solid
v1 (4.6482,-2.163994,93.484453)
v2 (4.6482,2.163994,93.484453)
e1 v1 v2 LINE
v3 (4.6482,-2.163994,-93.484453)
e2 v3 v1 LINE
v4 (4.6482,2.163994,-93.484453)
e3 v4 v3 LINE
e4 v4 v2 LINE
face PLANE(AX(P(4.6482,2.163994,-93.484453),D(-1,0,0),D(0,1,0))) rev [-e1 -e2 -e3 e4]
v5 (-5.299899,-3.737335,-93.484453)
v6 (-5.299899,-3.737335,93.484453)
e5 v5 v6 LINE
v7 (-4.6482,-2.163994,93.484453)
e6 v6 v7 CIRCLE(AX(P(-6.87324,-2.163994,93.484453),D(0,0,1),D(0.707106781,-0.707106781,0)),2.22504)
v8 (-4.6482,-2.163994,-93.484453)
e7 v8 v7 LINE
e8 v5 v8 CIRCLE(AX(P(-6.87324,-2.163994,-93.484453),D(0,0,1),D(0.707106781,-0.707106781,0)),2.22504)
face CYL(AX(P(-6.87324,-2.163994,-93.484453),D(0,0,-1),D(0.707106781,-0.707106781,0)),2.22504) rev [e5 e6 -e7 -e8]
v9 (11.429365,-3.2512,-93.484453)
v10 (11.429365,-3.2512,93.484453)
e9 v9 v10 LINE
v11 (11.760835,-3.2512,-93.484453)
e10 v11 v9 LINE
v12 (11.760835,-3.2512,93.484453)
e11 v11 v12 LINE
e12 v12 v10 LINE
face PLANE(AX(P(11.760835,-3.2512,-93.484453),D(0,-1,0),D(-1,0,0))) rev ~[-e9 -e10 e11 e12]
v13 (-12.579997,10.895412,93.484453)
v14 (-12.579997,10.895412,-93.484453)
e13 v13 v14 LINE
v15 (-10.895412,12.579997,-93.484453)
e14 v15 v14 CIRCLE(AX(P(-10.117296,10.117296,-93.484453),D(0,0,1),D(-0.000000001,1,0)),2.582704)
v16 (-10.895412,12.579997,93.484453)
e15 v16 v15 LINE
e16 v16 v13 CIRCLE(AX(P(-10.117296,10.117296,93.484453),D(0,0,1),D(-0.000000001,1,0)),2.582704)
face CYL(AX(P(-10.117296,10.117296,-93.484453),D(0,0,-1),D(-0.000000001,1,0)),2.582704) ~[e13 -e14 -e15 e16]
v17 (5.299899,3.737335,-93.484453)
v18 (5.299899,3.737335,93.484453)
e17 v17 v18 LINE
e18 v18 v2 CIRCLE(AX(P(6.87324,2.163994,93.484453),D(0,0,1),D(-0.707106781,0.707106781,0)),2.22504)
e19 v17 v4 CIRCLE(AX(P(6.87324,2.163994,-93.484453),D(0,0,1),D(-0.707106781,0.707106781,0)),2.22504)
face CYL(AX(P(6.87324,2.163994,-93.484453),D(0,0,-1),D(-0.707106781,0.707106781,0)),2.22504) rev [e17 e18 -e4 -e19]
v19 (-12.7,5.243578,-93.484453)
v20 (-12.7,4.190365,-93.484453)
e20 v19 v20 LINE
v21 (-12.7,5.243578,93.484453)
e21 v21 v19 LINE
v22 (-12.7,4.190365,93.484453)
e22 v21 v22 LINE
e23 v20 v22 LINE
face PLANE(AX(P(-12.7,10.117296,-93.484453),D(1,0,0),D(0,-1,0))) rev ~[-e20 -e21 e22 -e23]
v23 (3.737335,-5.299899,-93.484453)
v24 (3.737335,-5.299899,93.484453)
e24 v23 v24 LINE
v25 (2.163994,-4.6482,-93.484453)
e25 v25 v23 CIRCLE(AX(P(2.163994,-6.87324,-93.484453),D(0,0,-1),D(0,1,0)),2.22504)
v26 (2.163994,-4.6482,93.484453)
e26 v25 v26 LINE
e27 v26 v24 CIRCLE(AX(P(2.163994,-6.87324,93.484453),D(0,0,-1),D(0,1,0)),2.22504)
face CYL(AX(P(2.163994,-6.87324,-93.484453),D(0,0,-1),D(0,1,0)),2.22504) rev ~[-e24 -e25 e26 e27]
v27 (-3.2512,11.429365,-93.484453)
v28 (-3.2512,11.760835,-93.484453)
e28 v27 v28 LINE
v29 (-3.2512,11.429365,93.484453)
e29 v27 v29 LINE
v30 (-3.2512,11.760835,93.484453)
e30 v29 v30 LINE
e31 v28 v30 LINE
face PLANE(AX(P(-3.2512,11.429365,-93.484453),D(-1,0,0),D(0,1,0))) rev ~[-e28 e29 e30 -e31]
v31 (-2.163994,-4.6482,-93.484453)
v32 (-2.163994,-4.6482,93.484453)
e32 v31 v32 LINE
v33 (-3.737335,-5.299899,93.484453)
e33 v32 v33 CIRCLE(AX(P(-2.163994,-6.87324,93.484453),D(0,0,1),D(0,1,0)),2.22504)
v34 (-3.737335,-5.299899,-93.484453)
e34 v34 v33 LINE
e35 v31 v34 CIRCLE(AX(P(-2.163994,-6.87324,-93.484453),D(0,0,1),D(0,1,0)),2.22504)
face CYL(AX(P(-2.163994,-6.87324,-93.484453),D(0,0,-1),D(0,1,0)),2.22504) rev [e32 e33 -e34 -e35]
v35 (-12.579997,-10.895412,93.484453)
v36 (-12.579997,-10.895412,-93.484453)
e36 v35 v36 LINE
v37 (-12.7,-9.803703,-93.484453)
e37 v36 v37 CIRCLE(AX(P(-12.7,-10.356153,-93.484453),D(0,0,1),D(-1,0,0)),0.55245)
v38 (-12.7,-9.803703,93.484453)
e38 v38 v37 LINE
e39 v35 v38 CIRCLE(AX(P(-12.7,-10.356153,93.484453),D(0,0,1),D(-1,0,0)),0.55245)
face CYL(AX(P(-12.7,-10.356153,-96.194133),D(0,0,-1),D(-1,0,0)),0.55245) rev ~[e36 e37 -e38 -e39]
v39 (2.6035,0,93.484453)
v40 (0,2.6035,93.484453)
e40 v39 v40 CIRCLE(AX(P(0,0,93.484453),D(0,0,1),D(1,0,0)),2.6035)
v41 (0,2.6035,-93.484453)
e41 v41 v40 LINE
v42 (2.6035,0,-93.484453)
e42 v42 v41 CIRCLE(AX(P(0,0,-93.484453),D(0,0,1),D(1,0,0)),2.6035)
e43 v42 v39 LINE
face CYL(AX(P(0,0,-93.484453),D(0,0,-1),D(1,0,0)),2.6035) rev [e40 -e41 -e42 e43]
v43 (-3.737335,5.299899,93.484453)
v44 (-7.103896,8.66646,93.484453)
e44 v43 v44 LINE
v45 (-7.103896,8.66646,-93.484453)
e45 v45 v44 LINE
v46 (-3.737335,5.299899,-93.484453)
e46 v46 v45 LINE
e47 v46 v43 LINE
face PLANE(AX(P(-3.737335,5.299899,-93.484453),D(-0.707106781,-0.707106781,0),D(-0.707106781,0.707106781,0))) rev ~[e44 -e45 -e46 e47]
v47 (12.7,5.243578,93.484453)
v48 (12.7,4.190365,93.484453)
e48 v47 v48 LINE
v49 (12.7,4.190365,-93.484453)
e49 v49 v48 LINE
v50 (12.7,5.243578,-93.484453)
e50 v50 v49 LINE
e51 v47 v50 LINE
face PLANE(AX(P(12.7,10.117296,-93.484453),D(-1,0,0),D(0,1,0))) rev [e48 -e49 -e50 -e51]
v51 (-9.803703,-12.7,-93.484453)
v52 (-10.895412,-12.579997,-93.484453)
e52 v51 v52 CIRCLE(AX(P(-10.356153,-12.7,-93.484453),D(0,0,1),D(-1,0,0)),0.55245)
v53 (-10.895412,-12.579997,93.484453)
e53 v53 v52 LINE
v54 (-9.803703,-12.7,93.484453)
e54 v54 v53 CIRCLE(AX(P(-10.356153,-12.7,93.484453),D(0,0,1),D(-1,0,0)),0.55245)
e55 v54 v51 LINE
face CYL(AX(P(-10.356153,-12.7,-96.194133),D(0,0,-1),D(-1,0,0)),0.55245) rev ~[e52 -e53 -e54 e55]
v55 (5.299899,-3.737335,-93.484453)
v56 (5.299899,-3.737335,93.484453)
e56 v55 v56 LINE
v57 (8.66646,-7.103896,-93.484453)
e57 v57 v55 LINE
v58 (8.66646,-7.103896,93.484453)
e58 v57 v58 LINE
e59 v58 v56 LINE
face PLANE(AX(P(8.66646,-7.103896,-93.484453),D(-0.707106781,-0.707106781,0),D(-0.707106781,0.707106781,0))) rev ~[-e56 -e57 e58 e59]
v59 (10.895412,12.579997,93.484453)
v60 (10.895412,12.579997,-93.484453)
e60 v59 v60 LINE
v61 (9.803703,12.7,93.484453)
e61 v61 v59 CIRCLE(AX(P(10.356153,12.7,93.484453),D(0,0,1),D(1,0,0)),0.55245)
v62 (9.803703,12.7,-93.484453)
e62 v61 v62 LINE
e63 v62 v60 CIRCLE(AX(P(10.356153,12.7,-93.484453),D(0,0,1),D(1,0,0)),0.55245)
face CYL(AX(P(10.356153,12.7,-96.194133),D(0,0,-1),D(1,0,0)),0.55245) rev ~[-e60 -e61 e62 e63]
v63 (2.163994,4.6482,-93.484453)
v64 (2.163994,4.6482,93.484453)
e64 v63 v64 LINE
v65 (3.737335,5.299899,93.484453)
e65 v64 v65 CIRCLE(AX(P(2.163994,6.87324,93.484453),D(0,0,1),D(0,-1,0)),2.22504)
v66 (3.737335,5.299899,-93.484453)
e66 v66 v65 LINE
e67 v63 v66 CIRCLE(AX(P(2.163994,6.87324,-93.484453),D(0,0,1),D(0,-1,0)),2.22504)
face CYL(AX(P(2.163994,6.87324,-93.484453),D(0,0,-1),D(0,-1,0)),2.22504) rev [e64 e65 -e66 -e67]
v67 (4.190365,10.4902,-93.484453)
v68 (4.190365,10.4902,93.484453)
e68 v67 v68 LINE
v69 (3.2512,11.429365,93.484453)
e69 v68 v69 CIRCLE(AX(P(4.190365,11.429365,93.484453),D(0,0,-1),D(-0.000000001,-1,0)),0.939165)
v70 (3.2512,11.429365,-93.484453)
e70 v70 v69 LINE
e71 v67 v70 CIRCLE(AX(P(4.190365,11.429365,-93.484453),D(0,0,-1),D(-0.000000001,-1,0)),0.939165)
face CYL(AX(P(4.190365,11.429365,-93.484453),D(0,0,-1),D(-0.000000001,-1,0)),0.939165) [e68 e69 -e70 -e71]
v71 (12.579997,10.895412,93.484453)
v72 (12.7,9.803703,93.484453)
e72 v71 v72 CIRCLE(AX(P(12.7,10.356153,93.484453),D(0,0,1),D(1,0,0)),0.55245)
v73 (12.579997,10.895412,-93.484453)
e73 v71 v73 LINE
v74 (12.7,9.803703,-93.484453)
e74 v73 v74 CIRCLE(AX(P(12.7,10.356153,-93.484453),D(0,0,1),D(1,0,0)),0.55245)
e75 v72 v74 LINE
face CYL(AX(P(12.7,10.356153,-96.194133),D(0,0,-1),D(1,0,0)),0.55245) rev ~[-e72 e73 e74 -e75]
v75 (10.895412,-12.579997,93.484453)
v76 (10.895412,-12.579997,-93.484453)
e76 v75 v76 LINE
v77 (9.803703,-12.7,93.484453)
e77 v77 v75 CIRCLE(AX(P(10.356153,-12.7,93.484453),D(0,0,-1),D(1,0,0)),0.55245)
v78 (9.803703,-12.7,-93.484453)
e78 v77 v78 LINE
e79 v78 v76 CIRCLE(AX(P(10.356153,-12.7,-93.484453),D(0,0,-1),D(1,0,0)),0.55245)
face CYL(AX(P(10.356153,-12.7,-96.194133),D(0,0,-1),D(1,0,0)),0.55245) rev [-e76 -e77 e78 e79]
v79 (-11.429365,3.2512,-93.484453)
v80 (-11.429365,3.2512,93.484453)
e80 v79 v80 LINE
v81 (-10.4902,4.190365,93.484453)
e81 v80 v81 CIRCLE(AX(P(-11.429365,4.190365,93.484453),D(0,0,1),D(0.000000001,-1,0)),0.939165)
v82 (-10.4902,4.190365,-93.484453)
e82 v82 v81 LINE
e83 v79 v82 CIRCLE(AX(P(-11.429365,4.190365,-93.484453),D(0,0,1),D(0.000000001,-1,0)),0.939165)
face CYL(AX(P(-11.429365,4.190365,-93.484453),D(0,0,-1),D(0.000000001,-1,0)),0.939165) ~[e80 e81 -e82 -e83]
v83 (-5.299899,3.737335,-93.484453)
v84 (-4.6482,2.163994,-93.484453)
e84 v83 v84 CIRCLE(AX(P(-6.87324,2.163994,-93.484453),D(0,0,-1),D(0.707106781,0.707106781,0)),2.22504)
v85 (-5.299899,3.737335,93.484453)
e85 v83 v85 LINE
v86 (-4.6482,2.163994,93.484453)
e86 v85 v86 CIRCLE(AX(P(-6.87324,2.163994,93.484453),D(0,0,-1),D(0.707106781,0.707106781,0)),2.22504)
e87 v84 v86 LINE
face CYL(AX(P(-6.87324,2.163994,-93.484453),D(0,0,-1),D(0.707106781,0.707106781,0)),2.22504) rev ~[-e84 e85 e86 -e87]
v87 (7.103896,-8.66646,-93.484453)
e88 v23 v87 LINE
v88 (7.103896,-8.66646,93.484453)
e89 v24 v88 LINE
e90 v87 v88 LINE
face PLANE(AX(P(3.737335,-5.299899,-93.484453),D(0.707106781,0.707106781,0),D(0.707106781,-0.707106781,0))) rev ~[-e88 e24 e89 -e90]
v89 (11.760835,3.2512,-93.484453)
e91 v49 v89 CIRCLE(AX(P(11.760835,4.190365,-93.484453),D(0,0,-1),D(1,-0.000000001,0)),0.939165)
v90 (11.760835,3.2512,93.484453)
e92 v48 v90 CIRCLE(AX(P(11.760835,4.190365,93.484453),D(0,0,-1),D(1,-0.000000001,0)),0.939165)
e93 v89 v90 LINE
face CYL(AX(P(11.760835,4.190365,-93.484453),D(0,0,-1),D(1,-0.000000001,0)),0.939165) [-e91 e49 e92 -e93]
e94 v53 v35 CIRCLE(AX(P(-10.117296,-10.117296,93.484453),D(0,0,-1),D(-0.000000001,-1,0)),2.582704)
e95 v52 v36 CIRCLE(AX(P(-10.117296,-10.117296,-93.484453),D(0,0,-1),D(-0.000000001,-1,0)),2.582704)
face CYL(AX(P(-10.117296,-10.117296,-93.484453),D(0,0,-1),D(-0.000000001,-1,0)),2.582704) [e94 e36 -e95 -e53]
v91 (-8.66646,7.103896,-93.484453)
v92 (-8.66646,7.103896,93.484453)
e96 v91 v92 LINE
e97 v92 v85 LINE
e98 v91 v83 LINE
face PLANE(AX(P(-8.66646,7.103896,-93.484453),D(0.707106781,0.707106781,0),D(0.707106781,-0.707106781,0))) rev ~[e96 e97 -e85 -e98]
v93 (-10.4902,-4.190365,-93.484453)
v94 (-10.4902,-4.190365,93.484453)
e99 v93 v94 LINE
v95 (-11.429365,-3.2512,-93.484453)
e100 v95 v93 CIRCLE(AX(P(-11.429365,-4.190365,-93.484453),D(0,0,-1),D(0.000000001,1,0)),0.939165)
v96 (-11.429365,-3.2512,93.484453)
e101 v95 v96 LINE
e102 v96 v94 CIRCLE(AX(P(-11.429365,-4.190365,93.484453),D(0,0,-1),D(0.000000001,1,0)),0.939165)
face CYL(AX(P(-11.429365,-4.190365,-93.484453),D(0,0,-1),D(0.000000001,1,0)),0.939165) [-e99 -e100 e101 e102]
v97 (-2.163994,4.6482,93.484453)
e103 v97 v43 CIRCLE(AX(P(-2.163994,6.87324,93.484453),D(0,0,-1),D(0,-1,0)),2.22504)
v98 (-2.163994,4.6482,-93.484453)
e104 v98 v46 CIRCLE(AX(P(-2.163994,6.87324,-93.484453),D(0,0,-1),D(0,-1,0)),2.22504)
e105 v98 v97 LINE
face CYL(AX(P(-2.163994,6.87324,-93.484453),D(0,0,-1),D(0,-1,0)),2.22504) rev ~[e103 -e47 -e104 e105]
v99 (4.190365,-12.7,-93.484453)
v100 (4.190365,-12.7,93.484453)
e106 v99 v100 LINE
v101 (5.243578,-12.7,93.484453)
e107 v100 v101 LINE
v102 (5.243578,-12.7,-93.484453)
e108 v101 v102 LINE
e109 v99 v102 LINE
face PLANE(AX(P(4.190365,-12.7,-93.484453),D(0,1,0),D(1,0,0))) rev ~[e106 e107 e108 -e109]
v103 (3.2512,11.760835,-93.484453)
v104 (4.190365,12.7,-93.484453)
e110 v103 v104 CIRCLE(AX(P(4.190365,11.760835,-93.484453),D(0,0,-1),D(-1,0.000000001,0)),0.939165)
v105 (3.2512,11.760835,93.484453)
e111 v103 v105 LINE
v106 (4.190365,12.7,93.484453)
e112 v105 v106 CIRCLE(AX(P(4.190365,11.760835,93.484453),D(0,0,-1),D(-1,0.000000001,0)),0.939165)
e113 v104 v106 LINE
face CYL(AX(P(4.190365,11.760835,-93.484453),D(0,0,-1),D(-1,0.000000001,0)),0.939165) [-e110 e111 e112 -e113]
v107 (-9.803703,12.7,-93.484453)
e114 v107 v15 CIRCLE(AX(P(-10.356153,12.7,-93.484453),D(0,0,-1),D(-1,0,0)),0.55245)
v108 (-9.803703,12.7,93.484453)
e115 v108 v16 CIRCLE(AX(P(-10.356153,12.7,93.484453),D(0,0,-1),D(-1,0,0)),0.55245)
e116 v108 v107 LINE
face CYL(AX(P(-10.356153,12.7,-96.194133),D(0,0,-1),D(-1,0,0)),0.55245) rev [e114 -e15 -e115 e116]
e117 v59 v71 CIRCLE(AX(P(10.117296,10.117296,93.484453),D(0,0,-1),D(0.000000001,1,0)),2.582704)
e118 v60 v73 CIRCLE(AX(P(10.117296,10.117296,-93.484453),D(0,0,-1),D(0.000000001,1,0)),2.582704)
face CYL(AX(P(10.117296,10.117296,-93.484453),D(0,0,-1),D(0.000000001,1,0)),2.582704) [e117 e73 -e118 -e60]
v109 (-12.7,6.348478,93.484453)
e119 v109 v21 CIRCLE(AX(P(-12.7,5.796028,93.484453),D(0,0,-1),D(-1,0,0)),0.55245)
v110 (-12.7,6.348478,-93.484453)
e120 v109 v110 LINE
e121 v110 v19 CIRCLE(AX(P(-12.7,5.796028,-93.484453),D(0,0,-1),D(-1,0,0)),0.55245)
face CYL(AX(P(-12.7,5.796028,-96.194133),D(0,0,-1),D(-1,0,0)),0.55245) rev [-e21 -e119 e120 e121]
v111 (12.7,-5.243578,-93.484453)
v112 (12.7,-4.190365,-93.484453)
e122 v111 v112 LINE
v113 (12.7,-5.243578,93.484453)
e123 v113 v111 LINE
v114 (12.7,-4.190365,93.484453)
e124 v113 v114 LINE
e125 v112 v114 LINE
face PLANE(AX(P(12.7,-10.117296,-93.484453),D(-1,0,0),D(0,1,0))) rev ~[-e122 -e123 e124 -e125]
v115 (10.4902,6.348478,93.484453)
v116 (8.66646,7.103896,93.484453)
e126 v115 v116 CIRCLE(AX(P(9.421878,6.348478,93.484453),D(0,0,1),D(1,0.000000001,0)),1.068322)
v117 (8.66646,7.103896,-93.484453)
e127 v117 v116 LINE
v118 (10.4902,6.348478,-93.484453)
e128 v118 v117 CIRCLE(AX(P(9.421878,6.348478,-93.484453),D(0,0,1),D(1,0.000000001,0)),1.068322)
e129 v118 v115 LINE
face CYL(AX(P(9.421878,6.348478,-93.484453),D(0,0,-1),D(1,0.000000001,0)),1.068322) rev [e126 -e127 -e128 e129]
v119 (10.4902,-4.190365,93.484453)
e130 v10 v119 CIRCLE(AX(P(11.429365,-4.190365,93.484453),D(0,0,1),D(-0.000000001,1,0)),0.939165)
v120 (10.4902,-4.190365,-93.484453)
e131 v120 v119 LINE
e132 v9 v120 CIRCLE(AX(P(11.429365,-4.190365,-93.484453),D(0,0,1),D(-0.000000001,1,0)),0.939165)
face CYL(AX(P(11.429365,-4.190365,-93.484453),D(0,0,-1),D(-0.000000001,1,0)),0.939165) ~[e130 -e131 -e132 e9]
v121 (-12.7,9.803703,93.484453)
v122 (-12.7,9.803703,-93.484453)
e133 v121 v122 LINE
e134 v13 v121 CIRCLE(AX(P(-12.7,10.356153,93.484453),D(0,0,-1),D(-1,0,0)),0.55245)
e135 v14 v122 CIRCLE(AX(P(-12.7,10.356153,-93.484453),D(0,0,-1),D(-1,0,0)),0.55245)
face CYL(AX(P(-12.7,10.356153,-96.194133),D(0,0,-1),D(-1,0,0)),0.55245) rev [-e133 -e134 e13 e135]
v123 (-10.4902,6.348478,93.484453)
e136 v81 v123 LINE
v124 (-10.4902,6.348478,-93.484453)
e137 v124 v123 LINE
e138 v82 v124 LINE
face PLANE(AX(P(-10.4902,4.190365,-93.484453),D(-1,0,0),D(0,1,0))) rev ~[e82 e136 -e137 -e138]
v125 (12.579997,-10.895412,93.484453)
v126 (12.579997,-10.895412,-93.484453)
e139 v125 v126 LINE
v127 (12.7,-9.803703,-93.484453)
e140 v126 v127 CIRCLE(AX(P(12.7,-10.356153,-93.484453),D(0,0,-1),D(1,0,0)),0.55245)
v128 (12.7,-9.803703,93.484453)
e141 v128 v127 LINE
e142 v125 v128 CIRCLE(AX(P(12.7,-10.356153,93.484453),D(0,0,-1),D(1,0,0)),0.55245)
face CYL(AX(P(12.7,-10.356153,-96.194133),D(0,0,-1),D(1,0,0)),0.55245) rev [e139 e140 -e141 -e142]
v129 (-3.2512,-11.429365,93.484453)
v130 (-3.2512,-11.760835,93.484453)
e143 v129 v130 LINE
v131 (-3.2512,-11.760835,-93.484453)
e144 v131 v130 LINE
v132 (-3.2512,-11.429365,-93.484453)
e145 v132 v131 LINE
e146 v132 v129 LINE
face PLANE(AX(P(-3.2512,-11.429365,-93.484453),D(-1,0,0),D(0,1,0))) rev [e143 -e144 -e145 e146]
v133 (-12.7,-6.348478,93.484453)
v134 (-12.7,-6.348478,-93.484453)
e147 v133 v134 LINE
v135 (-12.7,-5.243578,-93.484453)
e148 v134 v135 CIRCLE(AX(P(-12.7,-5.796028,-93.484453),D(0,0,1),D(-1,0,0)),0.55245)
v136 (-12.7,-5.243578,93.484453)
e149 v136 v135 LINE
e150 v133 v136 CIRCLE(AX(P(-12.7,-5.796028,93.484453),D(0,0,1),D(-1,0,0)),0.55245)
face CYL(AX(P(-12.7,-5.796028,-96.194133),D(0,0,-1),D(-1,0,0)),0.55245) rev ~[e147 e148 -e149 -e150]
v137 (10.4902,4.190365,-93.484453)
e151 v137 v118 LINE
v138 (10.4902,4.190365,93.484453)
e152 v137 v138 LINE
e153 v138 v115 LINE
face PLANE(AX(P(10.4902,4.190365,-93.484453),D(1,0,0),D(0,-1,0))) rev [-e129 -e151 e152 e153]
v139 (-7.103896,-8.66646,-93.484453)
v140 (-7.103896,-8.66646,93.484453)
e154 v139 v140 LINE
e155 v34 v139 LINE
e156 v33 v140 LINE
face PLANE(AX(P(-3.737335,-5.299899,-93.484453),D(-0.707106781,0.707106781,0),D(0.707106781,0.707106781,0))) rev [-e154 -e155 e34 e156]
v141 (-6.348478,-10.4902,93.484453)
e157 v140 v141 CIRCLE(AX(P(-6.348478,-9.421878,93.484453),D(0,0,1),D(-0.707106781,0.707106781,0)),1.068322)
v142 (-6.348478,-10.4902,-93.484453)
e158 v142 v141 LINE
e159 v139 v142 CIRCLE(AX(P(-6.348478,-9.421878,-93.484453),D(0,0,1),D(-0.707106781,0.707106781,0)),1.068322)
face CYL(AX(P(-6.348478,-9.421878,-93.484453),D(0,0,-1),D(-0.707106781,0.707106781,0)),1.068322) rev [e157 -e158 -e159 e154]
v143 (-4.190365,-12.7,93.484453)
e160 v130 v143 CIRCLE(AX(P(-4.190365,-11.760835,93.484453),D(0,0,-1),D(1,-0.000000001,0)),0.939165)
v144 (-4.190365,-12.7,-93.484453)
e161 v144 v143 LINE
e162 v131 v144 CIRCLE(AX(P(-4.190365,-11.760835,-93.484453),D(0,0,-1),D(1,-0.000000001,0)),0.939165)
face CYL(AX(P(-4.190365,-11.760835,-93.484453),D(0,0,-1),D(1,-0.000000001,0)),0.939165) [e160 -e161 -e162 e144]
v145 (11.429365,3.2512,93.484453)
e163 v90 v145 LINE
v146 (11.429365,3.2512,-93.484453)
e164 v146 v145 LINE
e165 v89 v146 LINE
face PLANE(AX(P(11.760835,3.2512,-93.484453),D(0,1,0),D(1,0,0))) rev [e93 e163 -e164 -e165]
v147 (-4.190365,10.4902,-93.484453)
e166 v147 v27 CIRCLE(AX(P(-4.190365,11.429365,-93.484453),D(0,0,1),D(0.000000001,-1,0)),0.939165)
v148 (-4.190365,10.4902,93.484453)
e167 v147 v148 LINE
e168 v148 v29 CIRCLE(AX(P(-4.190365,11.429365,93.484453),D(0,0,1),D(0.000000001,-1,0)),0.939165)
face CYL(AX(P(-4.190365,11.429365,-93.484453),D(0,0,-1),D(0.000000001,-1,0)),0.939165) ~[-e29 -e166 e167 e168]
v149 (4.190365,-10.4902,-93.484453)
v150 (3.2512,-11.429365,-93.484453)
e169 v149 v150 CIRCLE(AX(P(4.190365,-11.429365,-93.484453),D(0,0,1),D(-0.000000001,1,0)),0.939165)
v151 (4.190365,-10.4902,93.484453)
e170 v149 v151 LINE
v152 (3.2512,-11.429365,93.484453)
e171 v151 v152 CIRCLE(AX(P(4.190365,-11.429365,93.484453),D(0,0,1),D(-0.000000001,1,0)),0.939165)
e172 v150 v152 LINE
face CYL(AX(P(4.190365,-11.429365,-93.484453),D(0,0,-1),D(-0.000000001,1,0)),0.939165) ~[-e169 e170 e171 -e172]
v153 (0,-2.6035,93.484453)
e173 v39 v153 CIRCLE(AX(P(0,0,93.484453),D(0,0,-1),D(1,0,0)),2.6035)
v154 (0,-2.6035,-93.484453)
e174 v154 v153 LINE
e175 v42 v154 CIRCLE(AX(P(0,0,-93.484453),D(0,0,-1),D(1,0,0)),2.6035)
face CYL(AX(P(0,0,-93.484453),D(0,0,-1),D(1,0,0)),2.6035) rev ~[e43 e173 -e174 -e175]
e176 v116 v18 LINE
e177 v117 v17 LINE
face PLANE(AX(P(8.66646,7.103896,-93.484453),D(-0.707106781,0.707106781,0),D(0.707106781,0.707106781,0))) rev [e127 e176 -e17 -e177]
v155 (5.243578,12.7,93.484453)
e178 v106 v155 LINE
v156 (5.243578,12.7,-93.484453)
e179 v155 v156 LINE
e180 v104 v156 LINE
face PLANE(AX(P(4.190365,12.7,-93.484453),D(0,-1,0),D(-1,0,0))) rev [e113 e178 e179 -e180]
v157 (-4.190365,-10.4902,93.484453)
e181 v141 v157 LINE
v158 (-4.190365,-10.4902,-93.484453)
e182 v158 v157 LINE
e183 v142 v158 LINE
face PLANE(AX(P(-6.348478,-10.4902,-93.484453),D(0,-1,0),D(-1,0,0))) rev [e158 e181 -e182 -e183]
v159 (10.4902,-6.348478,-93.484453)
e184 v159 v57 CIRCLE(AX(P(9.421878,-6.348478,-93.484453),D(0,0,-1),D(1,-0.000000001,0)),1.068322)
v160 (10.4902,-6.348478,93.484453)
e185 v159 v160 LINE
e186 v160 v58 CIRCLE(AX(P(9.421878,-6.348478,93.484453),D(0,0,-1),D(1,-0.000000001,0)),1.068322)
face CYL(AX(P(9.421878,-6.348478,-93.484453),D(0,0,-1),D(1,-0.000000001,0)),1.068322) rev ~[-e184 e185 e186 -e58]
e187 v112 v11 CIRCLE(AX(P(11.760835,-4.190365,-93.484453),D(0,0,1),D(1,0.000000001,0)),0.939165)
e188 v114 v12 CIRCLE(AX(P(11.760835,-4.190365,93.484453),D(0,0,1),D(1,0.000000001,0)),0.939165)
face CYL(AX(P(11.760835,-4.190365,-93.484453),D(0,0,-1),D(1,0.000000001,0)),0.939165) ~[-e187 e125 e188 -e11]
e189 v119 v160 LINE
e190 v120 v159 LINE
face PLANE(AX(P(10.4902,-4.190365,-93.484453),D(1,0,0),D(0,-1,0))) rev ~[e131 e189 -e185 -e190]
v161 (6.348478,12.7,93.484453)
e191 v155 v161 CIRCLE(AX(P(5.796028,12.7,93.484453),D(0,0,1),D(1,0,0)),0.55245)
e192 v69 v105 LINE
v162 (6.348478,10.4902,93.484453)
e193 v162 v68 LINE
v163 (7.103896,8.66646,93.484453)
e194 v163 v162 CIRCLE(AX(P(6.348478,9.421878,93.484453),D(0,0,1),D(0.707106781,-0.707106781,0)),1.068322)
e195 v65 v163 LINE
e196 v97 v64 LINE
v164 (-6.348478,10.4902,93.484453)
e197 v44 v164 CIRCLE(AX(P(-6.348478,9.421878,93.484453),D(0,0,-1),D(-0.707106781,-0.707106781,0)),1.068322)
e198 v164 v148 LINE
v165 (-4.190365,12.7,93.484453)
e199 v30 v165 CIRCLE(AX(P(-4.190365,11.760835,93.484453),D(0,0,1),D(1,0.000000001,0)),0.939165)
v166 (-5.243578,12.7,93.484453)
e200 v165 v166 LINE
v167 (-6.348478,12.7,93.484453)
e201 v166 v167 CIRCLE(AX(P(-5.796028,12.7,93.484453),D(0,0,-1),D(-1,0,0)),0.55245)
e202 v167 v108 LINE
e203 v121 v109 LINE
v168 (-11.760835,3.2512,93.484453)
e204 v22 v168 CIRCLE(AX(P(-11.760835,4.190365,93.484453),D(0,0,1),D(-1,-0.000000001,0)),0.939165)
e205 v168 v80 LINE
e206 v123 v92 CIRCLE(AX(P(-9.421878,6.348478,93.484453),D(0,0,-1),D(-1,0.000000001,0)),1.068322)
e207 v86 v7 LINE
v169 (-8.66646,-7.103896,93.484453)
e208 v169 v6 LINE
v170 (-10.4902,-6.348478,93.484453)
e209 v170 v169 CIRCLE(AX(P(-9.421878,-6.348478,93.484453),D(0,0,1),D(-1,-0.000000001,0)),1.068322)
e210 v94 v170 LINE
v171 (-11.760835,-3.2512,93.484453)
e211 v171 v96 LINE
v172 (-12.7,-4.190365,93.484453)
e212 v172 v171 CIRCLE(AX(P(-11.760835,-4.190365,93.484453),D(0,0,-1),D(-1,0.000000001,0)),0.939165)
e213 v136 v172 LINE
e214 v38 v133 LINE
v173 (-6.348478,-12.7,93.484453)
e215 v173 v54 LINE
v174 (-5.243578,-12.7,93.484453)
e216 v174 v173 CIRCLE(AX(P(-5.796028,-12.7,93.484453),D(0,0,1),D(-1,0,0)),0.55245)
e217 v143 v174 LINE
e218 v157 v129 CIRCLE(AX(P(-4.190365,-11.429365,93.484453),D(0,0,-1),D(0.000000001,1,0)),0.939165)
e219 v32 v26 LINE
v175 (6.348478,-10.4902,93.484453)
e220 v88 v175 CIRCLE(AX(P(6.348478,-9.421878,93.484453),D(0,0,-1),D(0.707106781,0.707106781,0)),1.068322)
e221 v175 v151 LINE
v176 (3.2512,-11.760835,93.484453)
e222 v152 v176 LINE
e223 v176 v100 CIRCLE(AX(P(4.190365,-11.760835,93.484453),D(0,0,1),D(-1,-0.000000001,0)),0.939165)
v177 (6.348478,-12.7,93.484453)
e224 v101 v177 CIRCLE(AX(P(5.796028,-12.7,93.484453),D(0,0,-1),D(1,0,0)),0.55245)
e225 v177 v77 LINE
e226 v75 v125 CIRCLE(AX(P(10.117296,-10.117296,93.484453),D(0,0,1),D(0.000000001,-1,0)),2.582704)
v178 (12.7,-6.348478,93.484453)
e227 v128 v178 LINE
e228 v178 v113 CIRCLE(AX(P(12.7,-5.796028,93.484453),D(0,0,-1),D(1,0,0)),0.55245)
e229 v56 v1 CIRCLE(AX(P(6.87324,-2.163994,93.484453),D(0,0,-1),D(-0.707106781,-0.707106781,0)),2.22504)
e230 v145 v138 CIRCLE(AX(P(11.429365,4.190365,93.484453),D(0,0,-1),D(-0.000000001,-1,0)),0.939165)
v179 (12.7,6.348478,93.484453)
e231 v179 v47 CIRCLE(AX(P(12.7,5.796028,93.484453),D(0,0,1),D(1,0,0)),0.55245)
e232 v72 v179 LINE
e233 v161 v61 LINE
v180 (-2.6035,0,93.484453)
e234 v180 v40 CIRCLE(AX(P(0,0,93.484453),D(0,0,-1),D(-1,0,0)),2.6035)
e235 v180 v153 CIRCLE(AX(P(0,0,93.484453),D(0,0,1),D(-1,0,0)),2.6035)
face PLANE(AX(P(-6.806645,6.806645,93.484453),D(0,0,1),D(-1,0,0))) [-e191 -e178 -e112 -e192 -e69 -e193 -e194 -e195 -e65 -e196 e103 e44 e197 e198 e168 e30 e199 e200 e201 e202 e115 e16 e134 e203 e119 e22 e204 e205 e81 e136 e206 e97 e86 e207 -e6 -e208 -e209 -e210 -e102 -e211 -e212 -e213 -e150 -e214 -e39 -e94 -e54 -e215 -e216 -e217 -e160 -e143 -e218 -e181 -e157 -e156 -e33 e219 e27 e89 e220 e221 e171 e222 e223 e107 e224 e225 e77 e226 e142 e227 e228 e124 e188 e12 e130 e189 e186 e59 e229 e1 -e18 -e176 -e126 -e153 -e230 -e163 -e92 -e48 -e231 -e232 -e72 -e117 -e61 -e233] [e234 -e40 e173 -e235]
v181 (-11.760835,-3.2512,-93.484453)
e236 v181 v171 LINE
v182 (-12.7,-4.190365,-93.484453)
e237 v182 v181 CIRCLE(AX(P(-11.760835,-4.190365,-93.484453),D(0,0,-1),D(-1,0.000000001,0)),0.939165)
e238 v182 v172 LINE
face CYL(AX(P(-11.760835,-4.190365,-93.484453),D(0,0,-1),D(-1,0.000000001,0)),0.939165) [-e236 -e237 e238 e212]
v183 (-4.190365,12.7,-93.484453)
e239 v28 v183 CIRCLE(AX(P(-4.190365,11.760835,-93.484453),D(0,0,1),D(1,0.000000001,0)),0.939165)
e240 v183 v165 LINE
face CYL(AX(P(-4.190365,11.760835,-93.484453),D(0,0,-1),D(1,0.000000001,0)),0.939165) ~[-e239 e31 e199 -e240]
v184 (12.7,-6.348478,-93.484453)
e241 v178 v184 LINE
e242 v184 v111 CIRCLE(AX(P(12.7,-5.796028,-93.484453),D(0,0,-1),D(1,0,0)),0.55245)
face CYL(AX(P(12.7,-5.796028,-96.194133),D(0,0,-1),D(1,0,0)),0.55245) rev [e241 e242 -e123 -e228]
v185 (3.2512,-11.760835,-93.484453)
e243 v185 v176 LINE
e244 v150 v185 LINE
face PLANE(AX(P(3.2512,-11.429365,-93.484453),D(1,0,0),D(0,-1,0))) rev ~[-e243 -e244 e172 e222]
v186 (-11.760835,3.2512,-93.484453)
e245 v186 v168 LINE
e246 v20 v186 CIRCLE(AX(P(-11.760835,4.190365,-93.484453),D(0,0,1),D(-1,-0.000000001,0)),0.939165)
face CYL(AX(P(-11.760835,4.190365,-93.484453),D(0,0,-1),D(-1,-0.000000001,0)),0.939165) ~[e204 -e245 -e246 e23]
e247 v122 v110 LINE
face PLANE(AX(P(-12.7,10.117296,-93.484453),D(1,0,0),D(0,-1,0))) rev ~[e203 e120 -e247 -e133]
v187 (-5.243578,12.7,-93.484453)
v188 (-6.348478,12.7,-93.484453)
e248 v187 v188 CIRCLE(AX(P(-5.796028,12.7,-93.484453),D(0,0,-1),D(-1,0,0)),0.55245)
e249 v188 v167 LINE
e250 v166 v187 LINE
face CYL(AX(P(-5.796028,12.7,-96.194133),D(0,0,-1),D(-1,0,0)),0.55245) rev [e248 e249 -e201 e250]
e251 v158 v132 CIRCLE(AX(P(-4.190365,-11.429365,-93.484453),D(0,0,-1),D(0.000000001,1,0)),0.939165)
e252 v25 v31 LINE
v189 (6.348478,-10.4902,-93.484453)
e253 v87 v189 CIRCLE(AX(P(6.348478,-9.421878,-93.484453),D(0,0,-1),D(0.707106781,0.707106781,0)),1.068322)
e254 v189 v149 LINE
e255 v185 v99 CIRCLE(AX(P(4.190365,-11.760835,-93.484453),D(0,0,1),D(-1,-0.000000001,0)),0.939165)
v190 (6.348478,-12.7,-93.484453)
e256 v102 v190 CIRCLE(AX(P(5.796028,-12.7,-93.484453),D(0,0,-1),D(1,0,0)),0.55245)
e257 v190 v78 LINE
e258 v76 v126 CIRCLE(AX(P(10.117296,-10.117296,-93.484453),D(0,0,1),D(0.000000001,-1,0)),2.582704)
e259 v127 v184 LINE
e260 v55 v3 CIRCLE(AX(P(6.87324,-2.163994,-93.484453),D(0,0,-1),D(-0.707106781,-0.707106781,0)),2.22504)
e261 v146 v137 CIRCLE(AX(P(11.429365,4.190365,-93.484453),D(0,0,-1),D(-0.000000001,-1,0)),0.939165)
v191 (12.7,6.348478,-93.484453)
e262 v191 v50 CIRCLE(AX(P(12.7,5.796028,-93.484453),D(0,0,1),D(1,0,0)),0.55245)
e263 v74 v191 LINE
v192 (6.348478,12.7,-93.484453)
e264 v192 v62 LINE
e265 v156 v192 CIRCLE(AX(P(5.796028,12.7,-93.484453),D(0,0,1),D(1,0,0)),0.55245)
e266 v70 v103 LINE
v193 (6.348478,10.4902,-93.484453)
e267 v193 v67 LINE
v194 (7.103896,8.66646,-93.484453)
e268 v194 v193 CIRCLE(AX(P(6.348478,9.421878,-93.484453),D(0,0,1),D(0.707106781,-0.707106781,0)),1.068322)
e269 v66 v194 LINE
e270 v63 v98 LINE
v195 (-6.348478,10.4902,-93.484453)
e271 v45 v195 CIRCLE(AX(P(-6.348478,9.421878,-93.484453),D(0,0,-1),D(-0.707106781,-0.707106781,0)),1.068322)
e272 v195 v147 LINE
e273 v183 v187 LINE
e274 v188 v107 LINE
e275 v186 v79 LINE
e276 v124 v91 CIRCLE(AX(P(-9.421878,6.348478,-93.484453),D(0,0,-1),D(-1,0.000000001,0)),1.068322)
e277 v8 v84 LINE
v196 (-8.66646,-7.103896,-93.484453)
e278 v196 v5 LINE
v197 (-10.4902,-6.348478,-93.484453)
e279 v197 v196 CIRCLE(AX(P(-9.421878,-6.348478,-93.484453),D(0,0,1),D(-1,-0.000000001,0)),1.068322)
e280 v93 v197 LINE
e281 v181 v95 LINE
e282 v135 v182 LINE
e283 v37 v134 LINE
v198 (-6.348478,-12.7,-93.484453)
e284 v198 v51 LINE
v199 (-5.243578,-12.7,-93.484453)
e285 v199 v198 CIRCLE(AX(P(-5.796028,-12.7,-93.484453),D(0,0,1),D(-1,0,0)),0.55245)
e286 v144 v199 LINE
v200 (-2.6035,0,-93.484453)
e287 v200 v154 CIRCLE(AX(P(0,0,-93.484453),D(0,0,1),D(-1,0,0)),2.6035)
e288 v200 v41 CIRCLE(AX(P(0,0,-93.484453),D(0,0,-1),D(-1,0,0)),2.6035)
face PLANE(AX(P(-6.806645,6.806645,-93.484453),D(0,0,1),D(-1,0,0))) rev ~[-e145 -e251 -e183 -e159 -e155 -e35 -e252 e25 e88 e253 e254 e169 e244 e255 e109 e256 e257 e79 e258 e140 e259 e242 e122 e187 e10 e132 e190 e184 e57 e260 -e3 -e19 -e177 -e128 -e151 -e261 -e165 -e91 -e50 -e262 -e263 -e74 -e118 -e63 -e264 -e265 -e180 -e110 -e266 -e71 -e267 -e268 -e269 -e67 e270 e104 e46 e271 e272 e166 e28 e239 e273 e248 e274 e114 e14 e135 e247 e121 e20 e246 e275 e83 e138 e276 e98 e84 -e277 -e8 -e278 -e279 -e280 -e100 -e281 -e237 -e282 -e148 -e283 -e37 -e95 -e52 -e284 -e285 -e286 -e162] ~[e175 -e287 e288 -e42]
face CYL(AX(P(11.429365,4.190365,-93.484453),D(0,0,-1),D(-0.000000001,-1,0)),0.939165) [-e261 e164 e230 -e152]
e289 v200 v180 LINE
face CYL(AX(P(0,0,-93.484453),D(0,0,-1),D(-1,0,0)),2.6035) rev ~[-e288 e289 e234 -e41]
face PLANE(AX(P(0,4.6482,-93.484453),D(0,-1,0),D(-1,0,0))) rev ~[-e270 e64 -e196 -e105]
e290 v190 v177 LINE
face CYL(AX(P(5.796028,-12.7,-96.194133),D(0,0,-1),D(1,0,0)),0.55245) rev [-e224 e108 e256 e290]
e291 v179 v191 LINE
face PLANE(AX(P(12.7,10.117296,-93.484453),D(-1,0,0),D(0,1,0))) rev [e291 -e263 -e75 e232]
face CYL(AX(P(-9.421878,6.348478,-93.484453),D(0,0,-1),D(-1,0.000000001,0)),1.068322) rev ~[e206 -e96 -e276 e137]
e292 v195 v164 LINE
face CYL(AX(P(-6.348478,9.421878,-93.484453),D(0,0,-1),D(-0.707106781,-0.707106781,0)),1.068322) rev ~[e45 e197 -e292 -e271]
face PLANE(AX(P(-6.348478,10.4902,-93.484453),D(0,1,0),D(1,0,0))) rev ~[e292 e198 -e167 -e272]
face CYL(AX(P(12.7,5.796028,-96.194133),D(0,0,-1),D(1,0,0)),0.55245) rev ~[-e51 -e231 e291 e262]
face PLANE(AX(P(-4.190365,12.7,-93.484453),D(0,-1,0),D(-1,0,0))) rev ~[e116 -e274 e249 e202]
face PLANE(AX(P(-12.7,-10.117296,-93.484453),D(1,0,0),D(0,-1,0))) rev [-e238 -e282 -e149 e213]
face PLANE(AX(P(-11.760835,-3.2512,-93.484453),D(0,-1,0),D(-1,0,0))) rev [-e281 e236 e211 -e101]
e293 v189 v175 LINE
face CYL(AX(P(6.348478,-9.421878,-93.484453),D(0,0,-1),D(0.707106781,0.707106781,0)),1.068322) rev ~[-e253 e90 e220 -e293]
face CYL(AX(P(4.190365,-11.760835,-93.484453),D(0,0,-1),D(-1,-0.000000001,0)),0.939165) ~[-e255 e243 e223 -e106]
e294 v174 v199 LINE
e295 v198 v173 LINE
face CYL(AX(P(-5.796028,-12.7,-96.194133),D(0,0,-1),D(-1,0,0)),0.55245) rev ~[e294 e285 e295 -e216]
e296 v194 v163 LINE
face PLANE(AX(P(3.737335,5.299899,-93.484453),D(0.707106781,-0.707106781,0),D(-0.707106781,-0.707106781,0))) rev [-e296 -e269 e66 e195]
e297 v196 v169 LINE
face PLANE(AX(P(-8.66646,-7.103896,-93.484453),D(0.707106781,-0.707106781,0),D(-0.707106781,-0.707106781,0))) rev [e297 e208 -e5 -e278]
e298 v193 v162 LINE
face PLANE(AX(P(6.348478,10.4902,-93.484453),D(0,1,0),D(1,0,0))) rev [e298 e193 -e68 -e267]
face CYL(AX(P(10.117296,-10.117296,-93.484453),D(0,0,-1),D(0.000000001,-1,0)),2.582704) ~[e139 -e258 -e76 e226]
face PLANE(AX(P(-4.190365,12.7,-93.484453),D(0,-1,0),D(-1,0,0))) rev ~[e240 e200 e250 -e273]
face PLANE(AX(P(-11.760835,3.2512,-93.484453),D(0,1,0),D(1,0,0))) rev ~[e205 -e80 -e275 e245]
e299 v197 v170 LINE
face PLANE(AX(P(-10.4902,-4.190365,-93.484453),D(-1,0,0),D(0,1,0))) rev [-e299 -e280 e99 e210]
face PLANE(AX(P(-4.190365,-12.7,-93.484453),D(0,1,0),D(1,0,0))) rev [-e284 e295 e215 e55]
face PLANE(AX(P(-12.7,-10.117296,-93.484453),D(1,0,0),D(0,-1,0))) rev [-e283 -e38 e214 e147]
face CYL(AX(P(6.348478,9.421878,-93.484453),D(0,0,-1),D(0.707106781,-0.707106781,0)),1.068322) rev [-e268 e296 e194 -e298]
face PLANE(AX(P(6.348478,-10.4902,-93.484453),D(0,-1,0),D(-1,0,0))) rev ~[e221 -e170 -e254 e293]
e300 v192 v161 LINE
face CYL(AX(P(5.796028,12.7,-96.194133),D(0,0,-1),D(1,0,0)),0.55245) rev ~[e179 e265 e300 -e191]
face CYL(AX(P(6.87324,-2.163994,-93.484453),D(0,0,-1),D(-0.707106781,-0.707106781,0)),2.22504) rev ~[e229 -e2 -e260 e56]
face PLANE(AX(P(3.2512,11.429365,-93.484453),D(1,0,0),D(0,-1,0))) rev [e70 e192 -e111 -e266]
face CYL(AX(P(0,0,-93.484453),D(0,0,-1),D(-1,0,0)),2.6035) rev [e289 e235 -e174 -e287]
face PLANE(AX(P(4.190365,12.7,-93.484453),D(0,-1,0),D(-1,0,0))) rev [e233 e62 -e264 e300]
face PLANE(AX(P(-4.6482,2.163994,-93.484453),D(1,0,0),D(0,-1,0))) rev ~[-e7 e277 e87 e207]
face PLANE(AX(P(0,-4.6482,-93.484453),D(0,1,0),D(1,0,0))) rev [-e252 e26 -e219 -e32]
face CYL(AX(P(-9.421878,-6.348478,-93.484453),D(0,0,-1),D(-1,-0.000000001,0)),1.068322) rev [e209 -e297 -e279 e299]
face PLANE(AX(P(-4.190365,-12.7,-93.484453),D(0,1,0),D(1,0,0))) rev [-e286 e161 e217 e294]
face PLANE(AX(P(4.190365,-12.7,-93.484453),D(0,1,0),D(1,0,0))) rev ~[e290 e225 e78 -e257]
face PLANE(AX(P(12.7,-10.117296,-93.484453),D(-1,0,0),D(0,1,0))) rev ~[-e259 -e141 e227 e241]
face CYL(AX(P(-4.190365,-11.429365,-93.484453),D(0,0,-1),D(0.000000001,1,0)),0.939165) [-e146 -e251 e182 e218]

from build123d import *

# Parameters (mm, degrees)
BOSS_EXTRUDE1_START     = -93.484453
BOSS_EXTRUDE1_DEPTH     = 186.968906
CUT_EXTRUDE1_DEPTH      = 96.194132974
CUT_EXTRUDE1_DEPTH_BACK = 96.194132974
SKETCH5_R               = 0.55245


with BuildPart() as part:
    # Sketch4 → Boss-Extrude1 (new body)
    with BuildSketch(Plane.XY.offset(BOSS_EXTRUDE1_START)):
        with BuildLine():
            Line((4.190365, -12.7), (10.11729625, -12.7))
            ThreePointArc((10.11729625, -12.7), (11.943543585, -11.943543585), (12.7, -10.11729625))
            Line((12.7, -10.11729625), (12.7, -4.190365))
            ThreePointArc((12.7, -4.190365), (12.42492494, -3.52627506), (11.760835, -3.2512))
            Line((11.760835, -3.2512), (11.429365, -3.2512))
            ThreePointArc((11.429365, -3.2512), (10.76527506, -3.52627506), (10.4902, -4.190365))
            Line((10.4902, -4.190365), (10.4902, -6.348478019))
            ThreePointArc((10.4902, -6.348478019), (9.830707141, -7.335478831), (8.666460301, -7.103895736))
            Line((8.666460301, -7.103895736), (5.299899128, -3.737334563))
            ThreePointArc((5.299899128, -3.737334563), (4.817571085, -3.015479634), (4.6482, -2.16399369))
            Line((4.6482, -2.16399369), (4.6482, 0))
            Line((4.6482, 0), (2.6035, 0))
            ThreePointArc((2.6035, 0), (1.840952505, -1.840952505), (0, -2.6035))
            Line((0, -2.6035), (0, -4.6482))
            Line((0, -4.6482), (2.16399369, -4.6482))
            ThreePointArc((2.16399369, -4.6482), (3.015479634, -4.817571085), (3.737334563, -5.299899128))
            Line((3.737334563, -5.299899128), (7.103895736, -8.666460301))
            ThreePointArc((7.103895736, -8.666460301), (7.335478831, -9.830707141), (6.348478019, -10.4902))
            Line((6.348478019, -10.4902), (4.190365, -10.4902))
            ThreePointArc((4.190365, -10.4902), (3.52627506, -10.76527506), (3.2512, -11.429365))
            Line((3.2512, -11.429365), (3.2512, -11.760835))
            ThreePointArc((3.2512, -11.760835), (3.52627506, -12.42492494), (4.190365, -12.7))
        make_face()
    extrude(amount=BOSS_EXTRUDE1_DEPTH)

    # Sketch5 → Cut-Extrude1 (cut, two sides: drawn at the far end of the back side and taken through both)
    with BuildSketch(Plane.XY.offset(-CUT_EXTRUDE1_DEPTH_BACK)):
        with Locations((10.356153152, -12.7)):
            Circle(SKETCH5_R)
        with Locations((5.796028019, -12.7)):
            Circle(SKETCH5_R)
        with Locations((12.7, -10.356153152)):
            Circle(SKETCH5_R)
        with Locations((12.7, -5.796028019)):
            Circle(SKETCH5_R)
    extrude(amount=CUT_EXTRUDE1_DEPTH + CUT_EXTRUDE1_DEPTH_BACK, mode=Mode.SUBTRACT)

    # Mirror1: part across plane


with BuildPart() as part_1:
    add(part.part)
    add(part.part.mirror(Plane(origin=(0, 0, 0), x_dir=(0, 0, 1), z_dir=(1, 0, 0))))

    # Mirror2: part across plane


with BuildPart() as part_2:
    add(part_1.part)
    add(part_1.part.mirror(Plane.ZX))


solid = part_2.part
